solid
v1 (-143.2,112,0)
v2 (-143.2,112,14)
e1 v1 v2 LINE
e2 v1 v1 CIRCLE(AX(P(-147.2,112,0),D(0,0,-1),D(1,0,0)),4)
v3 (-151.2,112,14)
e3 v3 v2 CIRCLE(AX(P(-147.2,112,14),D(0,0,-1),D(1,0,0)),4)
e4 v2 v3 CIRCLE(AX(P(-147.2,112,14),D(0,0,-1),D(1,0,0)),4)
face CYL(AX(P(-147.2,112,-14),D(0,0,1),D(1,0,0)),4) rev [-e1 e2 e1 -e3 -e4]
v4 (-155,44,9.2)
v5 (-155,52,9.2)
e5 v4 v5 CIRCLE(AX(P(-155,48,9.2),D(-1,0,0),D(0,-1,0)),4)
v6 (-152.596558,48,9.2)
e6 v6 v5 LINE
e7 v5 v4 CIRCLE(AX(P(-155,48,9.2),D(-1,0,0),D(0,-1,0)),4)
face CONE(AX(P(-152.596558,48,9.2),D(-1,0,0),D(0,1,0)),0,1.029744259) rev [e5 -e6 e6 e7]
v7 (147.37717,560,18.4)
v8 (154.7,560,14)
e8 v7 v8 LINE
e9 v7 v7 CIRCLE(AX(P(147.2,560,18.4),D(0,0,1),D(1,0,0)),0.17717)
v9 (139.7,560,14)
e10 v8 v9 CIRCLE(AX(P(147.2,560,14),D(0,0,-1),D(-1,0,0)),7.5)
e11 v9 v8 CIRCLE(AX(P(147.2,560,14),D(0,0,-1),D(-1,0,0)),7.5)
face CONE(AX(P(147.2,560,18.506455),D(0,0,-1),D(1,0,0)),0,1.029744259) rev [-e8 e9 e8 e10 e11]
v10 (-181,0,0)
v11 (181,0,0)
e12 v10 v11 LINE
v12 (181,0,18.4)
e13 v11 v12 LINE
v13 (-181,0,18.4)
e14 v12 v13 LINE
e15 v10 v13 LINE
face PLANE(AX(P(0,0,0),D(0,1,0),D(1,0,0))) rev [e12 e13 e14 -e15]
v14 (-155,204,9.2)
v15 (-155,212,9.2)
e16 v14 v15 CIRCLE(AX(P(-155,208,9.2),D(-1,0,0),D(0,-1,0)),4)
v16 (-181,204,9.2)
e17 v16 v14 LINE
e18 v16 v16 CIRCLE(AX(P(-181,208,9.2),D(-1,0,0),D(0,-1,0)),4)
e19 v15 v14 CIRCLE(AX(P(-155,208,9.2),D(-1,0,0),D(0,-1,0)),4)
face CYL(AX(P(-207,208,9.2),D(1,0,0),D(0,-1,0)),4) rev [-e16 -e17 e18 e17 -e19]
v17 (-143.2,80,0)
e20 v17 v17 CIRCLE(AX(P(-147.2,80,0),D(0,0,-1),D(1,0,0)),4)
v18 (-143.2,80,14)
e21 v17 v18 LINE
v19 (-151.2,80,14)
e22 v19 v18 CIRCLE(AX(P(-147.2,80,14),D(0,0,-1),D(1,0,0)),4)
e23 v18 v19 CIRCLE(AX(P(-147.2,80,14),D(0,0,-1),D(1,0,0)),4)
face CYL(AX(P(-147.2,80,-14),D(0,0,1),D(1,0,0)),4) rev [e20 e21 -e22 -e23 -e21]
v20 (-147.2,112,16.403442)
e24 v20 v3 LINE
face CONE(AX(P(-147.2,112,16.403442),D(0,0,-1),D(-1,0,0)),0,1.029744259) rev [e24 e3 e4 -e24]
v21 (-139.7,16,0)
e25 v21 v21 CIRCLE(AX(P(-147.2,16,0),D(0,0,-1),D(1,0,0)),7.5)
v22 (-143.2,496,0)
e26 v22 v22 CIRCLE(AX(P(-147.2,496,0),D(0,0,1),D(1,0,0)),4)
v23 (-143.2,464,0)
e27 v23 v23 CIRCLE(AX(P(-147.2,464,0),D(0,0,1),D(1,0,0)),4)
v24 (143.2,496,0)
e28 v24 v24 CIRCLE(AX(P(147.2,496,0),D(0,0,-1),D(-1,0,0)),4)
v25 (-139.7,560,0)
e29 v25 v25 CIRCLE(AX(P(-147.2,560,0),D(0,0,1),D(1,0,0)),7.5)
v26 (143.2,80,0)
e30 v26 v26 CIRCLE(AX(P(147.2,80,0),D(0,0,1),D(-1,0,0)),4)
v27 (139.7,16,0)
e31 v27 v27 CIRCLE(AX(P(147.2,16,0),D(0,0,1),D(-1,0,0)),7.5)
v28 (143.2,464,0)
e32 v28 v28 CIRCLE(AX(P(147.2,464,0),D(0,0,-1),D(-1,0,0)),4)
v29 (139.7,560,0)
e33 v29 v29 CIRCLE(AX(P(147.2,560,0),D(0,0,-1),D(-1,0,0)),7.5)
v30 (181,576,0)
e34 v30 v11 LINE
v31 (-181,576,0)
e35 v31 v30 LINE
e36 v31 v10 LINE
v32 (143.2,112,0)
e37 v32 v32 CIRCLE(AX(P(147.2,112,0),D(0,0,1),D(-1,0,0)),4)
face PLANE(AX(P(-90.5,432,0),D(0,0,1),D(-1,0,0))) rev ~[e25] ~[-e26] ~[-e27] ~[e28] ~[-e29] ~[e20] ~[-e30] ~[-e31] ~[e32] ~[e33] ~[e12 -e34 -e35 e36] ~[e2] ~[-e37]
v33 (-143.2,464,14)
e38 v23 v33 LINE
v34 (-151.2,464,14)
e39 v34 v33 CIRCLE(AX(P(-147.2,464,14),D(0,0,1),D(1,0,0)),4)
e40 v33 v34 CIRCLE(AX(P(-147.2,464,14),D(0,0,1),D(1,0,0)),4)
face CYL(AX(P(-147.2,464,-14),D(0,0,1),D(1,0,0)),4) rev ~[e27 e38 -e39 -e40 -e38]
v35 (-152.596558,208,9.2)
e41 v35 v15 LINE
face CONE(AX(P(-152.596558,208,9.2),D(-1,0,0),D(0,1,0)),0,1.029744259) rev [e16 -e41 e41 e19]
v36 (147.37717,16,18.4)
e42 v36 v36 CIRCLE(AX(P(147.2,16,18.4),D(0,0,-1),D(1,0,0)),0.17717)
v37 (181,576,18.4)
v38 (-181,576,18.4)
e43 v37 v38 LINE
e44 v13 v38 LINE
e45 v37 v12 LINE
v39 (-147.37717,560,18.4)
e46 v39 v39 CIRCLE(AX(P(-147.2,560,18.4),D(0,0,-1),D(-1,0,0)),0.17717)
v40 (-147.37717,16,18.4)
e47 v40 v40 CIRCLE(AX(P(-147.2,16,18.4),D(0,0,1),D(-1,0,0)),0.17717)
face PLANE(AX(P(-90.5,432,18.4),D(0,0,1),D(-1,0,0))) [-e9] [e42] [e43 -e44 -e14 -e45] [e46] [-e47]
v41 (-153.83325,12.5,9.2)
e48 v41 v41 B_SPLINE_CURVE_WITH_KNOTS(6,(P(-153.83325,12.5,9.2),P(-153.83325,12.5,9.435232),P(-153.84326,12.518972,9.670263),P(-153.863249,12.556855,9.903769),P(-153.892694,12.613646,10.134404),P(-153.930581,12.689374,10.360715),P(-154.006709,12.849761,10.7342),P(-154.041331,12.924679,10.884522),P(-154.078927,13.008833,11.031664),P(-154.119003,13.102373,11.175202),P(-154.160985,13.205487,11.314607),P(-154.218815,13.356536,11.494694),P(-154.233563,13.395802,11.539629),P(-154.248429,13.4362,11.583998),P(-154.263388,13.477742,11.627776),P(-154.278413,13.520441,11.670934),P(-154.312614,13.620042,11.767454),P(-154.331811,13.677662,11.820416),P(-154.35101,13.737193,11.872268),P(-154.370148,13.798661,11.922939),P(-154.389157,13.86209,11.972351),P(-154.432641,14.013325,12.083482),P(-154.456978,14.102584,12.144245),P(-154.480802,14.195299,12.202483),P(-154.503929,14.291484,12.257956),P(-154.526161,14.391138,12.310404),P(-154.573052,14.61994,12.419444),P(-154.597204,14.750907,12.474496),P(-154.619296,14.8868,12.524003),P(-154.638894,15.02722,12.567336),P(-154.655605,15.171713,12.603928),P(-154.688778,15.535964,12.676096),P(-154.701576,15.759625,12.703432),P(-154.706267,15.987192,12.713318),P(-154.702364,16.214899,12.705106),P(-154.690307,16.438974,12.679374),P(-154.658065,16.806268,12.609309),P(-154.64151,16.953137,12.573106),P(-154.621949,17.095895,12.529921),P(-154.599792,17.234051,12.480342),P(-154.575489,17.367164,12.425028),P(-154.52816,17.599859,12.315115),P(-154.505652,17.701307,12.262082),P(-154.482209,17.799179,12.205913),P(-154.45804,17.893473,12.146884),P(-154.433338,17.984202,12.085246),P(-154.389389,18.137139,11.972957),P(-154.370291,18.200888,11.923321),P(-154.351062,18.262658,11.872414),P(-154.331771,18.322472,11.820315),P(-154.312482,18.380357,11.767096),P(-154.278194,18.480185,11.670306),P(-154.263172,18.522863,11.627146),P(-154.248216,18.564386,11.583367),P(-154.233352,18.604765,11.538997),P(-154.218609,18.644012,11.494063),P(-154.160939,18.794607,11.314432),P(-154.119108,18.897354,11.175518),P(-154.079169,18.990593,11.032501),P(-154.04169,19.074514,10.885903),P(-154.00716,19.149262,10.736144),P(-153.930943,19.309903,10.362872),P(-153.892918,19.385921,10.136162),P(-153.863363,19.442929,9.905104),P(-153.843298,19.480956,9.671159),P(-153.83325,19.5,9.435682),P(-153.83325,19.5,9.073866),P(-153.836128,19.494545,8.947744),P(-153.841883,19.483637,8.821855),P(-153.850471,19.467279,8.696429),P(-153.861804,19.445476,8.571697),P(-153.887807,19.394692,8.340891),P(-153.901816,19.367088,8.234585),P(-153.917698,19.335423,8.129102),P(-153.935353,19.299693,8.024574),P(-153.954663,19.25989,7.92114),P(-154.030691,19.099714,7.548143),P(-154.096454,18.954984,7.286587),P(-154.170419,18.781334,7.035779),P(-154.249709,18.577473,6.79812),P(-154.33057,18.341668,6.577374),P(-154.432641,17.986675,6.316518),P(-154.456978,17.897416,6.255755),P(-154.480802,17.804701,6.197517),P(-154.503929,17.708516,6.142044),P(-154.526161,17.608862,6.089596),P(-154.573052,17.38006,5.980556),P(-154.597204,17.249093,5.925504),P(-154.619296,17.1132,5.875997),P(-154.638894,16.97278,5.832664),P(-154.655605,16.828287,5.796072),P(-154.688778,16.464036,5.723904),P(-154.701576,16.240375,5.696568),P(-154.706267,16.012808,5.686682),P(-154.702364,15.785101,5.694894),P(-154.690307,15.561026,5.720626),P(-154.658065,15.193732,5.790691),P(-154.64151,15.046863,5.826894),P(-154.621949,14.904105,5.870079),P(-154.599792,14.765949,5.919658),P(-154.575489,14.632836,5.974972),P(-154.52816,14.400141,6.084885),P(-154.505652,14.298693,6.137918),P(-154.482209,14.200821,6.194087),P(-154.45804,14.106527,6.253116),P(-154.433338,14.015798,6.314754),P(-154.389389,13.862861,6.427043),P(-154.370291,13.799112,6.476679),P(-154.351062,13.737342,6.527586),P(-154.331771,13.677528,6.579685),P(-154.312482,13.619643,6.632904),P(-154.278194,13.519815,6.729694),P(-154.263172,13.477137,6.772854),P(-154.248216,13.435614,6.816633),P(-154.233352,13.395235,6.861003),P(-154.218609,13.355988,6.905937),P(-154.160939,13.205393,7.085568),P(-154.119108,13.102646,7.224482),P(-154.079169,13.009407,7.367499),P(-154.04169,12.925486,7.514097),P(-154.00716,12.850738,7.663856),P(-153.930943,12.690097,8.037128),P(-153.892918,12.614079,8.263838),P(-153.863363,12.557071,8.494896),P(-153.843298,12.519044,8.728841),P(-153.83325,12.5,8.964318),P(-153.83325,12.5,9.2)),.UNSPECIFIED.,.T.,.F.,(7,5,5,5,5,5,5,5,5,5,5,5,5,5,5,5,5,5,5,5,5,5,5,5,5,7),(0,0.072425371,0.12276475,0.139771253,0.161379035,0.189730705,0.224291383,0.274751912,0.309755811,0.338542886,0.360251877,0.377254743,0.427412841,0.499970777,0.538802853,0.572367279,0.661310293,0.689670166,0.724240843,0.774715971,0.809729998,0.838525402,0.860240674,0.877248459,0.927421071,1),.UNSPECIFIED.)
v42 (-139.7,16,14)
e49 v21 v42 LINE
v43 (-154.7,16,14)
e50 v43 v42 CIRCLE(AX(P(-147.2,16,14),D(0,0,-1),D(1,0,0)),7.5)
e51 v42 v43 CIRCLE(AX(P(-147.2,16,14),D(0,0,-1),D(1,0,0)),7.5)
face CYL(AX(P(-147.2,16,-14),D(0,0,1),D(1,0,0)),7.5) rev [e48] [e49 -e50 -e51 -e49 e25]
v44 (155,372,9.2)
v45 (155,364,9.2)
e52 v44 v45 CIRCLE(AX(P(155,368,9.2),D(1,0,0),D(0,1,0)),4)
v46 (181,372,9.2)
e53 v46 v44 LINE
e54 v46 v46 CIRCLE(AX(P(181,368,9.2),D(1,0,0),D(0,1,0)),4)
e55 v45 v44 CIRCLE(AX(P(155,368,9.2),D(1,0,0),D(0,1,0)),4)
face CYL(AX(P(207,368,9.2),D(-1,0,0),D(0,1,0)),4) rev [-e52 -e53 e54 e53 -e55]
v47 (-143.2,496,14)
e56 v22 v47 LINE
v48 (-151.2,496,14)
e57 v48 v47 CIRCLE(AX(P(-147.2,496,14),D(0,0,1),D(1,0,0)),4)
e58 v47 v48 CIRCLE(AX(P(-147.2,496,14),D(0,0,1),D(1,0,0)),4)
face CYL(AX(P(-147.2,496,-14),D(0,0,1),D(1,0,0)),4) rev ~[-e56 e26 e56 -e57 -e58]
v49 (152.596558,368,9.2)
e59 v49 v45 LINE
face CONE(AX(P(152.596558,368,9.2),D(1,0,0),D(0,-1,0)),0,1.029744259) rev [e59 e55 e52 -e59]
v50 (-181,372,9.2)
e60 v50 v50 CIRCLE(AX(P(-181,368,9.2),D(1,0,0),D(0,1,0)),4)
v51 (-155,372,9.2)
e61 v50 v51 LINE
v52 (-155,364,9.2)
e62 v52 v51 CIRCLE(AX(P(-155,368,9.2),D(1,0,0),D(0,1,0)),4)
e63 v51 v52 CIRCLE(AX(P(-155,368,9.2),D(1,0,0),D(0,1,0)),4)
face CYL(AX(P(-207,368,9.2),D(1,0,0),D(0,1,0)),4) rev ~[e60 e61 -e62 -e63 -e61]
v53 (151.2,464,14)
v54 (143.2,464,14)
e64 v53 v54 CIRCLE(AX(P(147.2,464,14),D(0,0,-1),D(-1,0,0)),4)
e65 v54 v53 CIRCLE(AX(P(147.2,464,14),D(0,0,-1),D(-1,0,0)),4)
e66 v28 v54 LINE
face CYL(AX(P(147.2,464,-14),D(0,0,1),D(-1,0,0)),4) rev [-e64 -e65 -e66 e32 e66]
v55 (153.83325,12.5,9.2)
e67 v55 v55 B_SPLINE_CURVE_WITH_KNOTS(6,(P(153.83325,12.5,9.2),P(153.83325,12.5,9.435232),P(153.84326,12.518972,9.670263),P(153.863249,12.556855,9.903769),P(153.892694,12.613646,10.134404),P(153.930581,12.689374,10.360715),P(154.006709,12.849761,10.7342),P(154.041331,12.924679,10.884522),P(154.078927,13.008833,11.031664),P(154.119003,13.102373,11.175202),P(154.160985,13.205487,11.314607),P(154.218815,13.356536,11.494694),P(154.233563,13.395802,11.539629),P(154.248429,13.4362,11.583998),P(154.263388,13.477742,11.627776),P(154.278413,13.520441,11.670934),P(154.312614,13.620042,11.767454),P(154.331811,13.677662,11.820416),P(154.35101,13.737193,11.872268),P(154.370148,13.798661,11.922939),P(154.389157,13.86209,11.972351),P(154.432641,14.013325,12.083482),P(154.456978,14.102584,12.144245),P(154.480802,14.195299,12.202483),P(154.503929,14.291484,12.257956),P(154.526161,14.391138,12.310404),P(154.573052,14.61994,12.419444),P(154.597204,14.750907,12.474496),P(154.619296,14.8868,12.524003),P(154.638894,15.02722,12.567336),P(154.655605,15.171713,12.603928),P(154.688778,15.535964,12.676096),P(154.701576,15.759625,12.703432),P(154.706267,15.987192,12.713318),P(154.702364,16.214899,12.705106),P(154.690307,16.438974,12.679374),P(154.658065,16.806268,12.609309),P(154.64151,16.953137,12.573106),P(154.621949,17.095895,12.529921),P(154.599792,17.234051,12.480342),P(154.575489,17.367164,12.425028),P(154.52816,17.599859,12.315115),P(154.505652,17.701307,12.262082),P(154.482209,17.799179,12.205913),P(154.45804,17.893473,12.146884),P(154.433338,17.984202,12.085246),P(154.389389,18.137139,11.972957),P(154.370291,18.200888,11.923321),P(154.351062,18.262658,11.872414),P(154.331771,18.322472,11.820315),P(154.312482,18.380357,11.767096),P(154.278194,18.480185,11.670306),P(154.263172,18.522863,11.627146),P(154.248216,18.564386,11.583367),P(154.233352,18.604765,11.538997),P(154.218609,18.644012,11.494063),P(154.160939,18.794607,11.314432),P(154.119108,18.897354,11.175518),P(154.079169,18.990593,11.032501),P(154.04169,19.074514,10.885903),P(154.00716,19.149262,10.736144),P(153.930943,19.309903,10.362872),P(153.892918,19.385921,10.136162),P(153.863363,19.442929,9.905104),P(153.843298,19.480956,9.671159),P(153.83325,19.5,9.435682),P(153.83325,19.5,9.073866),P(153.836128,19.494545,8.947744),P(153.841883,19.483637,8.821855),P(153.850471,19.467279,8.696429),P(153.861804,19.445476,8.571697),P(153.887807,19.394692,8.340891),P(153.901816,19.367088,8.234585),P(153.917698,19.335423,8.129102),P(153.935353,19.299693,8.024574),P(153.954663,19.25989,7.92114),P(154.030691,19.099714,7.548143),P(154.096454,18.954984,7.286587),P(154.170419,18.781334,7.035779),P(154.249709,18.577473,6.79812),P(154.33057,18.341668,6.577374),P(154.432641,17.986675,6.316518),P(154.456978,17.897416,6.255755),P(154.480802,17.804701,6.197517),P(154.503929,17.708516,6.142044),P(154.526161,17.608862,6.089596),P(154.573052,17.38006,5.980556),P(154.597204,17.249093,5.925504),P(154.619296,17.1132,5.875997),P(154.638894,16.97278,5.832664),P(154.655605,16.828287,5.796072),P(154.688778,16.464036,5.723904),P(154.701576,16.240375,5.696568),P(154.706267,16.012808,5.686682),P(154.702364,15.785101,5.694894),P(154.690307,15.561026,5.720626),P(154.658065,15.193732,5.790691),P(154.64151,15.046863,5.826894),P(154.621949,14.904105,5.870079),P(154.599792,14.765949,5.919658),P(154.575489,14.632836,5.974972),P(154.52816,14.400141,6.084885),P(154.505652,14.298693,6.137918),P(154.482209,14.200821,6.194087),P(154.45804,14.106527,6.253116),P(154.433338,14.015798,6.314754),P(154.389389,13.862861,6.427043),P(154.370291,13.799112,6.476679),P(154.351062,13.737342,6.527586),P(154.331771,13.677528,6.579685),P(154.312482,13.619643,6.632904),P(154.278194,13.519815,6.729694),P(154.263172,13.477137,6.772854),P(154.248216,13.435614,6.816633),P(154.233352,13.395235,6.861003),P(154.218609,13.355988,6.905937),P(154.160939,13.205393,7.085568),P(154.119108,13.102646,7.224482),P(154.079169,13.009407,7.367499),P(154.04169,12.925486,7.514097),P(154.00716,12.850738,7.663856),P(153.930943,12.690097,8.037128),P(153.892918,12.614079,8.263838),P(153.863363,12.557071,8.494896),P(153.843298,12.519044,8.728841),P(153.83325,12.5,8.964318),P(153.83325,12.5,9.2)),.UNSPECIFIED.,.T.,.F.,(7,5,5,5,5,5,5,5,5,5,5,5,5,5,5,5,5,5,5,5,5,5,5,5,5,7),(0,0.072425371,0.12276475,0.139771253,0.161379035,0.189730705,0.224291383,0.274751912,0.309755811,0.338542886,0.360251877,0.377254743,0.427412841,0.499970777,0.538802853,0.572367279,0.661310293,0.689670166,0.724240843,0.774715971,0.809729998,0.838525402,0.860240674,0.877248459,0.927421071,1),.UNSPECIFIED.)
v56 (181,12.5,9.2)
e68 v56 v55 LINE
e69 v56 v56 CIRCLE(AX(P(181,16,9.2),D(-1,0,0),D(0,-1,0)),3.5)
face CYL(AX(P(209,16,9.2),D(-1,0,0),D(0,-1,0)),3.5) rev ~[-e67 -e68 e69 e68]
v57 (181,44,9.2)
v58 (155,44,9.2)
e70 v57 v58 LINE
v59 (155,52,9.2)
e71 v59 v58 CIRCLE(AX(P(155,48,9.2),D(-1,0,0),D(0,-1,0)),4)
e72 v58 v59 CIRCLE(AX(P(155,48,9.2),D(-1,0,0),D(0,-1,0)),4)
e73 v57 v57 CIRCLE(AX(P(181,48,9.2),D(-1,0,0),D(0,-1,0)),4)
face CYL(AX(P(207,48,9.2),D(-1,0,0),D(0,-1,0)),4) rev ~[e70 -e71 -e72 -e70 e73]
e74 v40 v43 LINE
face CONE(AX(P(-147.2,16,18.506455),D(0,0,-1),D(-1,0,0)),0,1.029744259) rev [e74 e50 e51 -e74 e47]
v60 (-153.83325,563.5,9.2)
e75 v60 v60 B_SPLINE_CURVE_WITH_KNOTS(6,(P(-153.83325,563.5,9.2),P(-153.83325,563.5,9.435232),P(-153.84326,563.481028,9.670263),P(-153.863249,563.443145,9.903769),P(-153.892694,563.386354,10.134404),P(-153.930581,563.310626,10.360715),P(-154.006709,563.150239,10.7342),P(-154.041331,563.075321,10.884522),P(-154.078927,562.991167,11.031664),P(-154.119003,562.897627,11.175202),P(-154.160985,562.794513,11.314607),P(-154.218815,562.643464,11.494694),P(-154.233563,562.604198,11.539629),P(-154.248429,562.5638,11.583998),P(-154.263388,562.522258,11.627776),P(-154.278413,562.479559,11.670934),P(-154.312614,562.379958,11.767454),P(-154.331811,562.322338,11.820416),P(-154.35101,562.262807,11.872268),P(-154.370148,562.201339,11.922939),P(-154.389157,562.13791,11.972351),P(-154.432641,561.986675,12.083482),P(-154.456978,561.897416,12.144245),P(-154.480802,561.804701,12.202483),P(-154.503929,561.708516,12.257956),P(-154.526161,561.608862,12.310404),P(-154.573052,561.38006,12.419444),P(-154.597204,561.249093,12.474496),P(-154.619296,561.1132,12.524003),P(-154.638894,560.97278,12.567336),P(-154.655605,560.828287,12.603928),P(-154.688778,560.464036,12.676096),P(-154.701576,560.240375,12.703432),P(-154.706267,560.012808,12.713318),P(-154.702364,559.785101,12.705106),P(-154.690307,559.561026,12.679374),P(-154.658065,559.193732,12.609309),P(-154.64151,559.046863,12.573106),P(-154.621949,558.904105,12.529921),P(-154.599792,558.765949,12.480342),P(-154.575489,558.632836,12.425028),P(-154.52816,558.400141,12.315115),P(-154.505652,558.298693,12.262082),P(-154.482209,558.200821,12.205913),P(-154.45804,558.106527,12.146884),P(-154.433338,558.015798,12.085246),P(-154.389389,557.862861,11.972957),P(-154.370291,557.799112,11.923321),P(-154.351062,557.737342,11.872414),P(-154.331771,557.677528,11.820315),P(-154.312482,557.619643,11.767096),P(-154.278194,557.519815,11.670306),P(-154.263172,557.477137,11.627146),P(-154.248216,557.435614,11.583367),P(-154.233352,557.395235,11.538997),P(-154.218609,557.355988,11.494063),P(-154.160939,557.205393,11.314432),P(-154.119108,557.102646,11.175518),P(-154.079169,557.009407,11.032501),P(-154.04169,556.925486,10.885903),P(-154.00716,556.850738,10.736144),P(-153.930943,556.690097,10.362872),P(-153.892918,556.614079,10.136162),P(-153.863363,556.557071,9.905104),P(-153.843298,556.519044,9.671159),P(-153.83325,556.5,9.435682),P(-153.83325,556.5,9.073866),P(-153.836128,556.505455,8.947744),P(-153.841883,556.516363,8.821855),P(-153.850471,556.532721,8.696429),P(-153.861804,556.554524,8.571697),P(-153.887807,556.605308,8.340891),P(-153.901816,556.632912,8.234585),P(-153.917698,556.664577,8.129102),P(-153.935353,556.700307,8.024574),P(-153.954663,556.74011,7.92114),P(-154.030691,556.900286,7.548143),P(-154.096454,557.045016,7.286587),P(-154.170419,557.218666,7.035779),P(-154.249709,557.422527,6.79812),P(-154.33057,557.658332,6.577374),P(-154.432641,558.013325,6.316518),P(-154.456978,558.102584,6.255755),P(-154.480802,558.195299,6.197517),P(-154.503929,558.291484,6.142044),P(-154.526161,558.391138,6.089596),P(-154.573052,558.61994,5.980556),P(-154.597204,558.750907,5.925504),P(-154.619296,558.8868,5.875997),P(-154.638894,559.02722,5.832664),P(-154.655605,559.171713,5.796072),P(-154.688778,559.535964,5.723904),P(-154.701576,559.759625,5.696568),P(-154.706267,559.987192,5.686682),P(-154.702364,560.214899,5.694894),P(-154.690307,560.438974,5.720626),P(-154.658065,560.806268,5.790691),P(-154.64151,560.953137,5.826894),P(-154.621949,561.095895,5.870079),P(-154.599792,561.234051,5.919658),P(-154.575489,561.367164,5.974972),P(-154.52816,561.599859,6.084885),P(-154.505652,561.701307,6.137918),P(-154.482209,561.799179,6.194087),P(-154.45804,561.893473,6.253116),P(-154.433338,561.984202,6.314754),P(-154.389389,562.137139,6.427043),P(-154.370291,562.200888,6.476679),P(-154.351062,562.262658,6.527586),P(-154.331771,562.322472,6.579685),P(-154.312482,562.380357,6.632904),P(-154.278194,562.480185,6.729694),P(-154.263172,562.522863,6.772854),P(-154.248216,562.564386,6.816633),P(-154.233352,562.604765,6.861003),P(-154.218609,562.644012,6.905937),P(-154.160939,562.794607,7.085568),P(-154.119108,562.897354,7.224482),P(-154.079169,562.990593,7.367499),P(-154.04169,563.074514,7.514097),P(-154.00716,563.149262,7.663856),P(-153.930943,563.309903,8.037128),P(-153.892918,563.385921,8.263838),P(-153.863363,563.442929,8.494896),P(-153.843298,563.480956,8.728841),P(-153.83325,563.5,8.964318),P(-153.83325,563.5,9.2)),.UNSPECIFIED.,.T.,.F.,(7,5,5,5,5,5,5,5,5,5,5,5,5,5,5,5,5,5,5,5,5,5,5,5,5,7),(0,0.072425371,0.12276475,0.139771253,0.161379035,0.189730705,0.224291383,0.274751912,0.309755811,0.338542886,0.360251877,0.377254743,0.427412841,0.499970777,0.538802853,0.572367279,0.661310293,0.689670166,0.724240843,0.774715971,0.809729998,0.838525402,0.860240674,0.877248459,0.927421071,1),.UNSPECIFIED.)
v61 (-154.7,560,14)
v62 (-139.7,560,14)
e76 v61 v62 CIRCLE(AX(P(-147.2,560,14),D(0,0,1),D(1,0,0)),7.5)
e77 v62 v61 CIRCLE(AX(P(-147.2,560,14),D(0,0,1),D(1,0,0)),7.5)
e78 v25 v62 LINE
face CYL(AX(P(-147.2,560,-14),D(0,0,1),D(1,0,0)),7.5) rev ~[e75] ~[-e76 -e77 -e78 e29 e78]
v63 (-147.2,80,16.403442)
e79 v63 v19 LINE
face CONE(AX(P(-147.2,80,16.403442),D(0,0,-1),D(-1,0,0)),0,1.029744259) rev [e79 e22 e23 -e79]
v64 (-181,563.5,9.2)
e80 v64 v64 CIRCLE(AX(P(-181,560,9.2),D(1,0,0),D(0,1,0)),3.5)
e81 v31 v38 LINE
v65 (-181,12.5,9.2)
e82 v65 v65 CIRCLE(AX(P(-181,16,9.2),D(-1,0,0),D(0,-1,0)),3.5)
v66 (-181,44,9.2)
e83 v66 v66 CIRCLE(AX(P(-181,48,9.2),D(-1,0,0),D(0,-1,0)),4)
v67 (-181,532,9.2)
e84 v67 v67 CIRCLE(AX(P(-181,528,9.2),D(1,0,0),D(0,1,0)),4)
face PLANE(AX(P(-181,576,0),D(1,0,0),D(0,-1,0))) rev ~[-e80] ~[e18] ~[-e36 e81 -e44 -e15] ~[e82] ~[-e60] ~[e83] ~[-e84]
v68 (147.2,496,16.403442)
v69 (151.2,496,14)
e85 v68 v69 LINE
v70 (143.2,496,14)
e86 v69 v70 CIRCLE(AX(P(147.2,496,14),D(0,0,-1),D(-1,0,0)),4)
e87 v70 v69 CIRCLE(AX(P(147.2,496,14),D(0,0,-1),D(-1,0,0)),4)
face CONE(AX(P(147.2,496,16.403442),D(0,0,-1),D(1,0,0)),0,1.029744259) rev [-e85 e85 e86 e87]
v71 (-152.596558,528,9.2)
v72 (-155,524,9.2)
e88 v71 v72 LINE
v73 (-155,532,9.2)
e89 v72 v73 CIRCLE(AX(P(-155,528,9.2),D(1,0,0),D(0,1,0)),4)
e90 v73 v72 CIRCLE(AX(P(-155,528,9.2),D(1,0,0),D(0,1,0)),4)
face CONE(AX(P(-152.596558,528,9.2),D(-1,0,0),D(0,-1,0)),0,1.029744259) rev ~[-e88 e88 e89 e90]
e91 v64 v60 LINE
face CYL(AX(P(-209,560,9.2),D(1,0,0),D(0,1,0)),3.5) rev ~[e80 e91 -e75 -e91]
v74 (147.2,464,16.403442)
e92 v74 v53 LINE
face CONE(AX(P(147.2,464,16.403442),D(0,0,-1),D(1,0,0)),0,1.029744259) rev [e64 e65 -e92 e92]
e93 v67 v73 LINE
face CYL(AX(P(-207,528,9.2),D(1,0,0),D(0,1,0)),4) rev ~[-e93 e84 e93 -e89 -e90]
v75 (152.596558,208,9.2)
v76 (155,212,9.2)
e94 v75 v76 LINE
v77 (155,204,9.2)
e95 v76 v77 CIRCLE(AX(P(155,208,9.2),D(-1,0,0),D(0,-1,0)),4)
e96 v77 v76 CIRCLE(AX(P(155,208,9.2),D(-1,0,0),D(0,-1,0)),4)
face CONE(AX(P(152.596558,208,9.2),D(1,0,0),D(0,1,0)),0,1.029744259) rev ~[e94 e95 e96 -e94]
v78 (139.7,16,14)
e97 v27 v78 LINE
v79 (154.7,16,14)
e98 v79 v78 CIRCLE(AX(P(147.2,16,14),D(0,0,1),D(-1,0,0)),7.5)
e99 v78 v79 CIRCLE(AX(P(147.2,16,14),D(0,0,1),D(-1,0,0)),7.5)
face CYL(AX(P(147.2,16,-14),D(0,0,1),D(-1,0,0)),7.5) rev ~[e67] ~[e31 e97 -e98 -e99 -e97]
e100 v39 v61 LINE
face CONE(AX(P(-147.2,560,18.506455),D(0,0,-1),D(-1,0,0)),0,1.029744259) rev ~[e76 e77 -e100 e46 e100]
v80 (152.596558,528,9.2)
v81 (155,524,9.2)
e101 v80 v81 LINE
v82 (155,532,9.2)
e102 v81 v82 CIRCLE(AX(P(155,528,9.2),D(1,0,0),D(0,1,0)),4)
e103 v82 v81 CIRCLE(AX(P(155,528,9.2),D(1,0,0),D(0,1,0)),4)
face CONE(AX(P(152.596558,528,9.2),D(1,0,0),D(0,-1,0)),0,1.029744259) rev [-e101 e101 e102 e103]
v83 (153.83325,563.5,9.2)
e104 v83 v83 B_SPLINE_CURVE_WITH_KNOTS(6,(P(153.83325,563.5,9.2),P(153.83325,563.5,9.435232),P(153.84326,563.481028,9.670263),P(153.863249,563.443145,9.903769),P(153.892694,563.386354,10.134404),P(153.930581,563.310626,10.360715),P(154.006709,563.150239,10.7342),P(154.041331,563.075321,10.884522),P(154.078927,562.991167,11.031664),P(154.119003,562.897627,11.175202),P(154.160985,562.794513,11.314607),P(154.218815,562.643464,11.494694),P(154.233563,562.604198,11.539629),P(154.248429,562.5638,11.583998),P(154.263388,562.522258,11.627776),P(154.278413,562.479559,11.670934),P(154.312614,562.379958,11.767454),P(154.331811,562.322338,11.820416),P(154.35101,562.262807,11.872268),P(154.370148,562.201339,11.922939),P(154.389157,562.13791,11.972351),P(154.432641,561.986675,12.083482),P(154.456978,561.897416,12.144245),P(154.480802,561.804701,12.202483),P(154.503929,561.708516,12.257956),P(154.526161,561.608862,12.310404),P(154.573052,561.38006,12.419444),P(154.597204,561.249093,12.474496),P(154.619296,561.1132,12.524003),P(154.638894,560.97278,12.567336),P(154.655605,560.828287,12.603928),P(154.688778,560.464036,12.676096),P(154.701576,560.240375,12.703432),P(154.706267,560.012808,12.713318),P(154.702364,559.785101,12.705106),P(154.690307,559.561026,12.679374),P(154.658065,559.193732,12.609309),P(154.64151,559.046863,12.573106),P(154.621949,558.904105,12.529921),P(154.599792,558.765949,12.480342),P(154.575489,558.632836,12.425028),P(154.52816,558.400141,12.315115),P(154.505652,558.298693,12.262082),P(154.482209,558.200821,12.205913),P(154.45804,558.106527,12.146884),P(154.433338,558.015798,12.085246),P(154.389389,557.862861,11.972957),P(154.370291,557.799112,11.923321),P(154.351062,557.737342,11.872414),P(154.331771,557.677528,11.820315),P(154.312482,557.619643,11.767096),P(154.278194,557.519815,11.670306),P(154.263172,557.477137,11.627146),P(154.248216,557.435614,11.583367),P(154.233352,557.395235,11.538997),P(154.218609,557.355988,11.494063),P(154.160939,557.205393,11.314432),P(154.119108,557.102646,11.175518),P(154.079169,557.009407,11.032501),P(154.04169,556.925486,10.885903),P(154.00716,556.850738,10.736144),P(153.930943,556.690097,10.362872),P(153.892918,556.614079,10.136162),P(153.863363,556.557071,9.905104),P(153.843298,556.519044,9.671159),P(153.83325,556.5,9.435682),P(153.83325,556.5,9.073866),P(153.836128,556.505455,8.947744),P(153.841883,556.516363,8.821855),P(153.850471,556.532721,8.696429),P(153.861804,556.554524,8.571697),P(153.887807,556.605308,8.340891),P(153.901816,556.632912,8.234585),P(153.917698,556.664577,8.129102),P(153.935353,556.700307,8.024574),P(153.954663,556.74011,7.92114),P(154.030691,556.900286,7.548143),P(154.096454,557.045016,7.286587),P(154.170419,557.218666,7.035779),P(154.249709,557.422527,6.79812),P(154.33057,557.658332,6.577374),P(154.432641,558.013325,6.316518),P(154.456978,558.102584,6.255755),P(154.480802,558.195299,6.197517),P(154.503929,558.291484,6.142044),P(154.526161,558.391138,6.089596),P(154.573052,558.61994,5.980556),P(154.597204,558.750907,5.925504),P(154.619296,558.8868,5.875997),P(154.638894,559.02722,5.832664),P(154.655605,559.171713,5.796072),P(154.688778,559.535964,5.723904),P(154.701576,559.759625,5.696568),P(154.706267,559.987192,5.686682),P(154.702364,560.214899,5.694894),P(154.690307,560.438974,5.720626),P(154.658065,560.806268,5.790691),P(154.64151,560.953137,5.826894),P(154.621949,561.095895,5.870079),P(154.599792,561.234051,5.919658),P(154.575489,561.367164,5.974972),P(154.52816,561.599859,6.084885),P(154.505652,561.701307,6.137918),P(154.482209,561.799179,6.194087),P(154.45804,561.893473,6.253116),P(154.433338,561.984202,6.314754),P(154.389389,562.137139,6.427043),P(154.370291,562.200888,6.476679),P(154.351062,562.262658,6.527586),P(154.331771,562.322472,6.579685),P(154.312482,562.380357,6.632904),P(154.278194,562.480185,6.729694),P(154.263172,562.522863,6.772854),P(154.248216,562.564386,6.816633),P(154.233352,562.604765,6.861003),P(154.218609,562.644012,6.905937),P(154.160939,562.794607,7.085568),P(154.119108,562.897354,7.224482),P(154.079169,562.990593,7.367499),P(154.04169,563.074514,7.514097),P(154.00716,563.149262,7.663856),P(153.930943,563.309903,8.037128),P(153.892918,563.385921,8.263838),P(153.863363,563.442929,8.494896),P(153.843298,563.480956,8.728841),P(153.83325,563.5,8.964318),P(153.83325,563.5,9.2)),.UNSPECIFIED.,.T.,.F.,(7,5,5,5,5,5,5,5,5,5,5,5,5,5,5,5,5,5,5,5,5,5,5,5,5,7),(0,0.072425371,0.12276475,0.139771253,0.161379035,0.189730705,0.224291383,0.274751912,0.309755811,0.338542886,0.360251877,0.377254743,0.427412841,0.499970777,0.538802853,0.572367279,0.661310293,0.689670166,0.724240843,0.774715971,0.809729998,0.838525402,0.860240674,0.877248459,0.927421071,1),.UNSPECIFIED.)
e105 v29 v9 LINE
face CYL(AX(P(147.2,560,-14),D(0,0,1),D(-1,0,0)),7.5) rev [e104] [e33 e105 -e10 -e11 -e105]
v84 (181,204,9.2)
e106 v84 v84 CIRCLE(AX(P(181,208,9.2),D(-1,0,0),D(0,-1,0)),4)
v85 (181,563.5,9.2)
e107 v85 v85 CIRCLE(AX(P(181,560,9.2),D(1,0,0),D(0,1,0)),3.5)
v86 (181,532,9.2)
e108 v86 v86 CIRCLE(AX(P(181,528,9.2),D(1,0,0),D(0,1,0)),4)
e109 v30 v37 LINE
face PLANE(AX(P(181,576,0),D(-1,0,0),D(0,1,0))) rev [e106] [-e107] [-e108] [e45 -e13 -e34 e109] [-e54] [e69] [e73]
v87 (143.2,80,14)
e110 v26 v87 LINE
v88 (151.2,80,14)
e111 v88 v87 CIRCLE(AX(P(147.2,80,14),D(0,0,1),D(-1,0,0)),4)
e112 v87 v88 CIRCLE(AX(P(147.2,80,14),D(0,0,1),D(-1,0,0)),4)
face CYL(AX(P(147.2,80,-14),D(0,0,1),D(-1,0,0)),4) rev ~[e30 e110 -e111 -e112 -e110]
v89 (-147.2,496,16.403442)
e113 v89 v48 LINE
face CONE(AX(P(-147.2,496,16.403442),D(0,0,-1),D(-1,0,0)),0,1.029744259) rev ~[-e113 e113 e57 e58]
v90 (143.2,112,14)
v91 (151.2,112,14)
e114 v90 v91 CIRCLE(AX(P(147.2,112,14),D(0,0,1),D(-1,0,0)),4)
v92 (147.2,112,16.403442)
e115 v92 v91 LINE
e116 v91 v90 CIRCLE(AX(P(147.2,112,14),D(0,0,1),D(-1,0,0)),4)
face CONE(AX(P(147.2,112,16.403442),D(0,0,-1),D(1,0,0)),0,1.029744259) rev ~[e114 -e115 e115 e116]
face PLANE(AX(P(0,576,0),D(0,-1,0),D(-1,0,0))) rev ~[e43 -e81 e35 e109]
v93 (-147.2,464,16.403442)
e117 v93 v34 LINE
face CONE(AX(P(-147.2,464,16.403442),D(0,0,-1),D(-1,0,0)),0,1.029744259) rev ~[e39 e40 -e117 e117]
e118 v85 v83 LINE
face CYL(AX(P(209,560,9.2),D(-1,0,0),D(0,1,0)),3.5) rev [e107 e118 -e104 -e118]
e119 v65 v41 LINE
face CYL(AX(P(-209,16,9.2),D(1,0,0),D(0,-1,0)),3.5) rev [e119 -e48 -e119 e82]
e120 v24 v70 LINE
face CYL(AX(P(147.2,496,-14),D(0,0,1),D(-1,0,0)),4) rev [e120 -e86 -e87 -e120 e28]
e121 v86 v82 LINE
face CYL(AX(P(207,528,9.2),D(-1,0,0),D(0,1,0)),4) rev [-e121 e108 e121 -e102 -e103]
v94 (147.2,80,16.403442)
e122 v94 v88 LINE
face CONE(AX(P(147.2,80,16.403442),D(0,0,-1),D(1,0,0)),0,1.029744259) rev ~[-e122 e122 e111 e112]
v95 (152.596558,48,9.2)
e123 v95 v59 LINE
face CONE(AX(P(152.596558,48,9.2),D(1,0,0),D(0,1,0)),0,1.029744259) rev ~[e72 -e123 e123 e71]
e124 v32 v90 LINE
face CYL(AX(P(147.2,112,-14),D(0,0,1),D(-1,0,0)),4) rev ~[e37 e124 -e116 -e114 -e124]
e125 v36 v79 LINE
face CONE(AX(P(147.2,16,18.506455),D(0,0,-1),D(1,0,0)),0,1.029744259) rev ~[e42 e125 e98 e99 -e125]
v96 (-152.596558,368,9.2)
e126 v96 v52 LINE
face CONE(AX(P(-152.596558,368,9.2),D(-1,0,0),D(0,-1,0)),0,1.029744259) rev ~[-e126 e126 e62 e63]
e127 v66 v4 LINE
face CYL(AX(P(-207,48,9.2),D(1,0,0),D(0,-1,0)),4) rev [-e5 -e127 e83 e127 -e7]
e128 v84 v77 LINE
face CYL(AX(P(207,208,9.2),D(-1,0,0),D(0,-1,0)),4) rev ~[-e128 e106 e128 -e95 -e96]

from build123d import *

# Parameters (mm, degrees)
F0_W     = 181
F0_H     = 288
F1_DEPTH = 18.4
F2_D     = 8
F2_DEPTH = 14
F2_TIP   = 2.4034424761
F3_D     = 15
F3_DEPTH = 14
F3_TIP   = 4.5064546427
F5_D     = 7
F5_DEPTH = 28
F5_TIP   = 2.1030121666
F6_D     = 8
F6_DEPTH = 26
F6_TIP   = 2.4034424761


with BuildPart() as f1:
    # F0 (on Top) → F1 (new body)
    with BuildSketch(Plane.XY):
        with Locations((90.5, 144)):
            Rectangle(F0_W, F0_H)
    extrude(amount=F1_DEPTH)

    # F2
    with Locations(Plane(origin=(0, 0, 0), x_dir=(1, 0, 0), z_dir=(0, 0, -1))):
        with Locations((147.2, -80), (147.2, -112)):
            Hole(F2_D / 2, depth=F2_DEPTH)
            with Locations((0, 0, -(F2_DEPTH + F2_TIP / 2))):  # 118° drill point
                Cone(0, F2_D / 2, F2_TIP, mode=Mode.SUBTRACT)

    # F3
    with Locations(Plane(origin=(0, 0, 0), x_dir=(1, 0, 0), z_dir=(0, 0, -1))):
        with Locations((147.2, -16)):
            Hole(F3_D / 2, depth=F3_DEPTH)
            with Locations((0, 0, -(F3_DEPTH + F3_TIP / 2))):  # 118° drill point
                Cone(0, F3_D / 2, F3_TIP, mode=Mode.SUBTRACT)

    # F5
    with Locations(Plane.YZ.offset(181)):
        with Locations((16, 9.2)):
            Hole(F5_D / 2, depth=F5_DEPTH)
            with Locations((0, 0, -(F5_DEPTH + F5_TIP / 2))):  # 118° drill point
                Cone(0, F5_D / 2, F5_TIP, mode=Mode.SUBTRACT)

    # F6
    with Locations(Plane.YZ.offset(181)):
        with Locations((48, 9.2), (208, 9.2)):
            Hole(F6_D / 2, depth=F6_DEPTH)
            with Locations((0, 0, -(F6_DEPTH + F6_TIP / 2))):  # 118° drill point
                Cone(0, F6_D / 2, F6_TIP, mode=Mode.SUBTRACT)

    # F7: F1 across plane


with BuildPart() as f1_1:
    add(f1.part)
    add(f1.part.mirror(Plane.YZ))

    # F8: F1 across face


with BuildPart() as f1_2:
    add(f1_1.part)
    add(f1_1.part.mirror(Plane(origin=(0, 288, 9.2), x_dir=(-1, 0, 0), z_dir=(0, 1, 0))))


solid = f1_2.part
